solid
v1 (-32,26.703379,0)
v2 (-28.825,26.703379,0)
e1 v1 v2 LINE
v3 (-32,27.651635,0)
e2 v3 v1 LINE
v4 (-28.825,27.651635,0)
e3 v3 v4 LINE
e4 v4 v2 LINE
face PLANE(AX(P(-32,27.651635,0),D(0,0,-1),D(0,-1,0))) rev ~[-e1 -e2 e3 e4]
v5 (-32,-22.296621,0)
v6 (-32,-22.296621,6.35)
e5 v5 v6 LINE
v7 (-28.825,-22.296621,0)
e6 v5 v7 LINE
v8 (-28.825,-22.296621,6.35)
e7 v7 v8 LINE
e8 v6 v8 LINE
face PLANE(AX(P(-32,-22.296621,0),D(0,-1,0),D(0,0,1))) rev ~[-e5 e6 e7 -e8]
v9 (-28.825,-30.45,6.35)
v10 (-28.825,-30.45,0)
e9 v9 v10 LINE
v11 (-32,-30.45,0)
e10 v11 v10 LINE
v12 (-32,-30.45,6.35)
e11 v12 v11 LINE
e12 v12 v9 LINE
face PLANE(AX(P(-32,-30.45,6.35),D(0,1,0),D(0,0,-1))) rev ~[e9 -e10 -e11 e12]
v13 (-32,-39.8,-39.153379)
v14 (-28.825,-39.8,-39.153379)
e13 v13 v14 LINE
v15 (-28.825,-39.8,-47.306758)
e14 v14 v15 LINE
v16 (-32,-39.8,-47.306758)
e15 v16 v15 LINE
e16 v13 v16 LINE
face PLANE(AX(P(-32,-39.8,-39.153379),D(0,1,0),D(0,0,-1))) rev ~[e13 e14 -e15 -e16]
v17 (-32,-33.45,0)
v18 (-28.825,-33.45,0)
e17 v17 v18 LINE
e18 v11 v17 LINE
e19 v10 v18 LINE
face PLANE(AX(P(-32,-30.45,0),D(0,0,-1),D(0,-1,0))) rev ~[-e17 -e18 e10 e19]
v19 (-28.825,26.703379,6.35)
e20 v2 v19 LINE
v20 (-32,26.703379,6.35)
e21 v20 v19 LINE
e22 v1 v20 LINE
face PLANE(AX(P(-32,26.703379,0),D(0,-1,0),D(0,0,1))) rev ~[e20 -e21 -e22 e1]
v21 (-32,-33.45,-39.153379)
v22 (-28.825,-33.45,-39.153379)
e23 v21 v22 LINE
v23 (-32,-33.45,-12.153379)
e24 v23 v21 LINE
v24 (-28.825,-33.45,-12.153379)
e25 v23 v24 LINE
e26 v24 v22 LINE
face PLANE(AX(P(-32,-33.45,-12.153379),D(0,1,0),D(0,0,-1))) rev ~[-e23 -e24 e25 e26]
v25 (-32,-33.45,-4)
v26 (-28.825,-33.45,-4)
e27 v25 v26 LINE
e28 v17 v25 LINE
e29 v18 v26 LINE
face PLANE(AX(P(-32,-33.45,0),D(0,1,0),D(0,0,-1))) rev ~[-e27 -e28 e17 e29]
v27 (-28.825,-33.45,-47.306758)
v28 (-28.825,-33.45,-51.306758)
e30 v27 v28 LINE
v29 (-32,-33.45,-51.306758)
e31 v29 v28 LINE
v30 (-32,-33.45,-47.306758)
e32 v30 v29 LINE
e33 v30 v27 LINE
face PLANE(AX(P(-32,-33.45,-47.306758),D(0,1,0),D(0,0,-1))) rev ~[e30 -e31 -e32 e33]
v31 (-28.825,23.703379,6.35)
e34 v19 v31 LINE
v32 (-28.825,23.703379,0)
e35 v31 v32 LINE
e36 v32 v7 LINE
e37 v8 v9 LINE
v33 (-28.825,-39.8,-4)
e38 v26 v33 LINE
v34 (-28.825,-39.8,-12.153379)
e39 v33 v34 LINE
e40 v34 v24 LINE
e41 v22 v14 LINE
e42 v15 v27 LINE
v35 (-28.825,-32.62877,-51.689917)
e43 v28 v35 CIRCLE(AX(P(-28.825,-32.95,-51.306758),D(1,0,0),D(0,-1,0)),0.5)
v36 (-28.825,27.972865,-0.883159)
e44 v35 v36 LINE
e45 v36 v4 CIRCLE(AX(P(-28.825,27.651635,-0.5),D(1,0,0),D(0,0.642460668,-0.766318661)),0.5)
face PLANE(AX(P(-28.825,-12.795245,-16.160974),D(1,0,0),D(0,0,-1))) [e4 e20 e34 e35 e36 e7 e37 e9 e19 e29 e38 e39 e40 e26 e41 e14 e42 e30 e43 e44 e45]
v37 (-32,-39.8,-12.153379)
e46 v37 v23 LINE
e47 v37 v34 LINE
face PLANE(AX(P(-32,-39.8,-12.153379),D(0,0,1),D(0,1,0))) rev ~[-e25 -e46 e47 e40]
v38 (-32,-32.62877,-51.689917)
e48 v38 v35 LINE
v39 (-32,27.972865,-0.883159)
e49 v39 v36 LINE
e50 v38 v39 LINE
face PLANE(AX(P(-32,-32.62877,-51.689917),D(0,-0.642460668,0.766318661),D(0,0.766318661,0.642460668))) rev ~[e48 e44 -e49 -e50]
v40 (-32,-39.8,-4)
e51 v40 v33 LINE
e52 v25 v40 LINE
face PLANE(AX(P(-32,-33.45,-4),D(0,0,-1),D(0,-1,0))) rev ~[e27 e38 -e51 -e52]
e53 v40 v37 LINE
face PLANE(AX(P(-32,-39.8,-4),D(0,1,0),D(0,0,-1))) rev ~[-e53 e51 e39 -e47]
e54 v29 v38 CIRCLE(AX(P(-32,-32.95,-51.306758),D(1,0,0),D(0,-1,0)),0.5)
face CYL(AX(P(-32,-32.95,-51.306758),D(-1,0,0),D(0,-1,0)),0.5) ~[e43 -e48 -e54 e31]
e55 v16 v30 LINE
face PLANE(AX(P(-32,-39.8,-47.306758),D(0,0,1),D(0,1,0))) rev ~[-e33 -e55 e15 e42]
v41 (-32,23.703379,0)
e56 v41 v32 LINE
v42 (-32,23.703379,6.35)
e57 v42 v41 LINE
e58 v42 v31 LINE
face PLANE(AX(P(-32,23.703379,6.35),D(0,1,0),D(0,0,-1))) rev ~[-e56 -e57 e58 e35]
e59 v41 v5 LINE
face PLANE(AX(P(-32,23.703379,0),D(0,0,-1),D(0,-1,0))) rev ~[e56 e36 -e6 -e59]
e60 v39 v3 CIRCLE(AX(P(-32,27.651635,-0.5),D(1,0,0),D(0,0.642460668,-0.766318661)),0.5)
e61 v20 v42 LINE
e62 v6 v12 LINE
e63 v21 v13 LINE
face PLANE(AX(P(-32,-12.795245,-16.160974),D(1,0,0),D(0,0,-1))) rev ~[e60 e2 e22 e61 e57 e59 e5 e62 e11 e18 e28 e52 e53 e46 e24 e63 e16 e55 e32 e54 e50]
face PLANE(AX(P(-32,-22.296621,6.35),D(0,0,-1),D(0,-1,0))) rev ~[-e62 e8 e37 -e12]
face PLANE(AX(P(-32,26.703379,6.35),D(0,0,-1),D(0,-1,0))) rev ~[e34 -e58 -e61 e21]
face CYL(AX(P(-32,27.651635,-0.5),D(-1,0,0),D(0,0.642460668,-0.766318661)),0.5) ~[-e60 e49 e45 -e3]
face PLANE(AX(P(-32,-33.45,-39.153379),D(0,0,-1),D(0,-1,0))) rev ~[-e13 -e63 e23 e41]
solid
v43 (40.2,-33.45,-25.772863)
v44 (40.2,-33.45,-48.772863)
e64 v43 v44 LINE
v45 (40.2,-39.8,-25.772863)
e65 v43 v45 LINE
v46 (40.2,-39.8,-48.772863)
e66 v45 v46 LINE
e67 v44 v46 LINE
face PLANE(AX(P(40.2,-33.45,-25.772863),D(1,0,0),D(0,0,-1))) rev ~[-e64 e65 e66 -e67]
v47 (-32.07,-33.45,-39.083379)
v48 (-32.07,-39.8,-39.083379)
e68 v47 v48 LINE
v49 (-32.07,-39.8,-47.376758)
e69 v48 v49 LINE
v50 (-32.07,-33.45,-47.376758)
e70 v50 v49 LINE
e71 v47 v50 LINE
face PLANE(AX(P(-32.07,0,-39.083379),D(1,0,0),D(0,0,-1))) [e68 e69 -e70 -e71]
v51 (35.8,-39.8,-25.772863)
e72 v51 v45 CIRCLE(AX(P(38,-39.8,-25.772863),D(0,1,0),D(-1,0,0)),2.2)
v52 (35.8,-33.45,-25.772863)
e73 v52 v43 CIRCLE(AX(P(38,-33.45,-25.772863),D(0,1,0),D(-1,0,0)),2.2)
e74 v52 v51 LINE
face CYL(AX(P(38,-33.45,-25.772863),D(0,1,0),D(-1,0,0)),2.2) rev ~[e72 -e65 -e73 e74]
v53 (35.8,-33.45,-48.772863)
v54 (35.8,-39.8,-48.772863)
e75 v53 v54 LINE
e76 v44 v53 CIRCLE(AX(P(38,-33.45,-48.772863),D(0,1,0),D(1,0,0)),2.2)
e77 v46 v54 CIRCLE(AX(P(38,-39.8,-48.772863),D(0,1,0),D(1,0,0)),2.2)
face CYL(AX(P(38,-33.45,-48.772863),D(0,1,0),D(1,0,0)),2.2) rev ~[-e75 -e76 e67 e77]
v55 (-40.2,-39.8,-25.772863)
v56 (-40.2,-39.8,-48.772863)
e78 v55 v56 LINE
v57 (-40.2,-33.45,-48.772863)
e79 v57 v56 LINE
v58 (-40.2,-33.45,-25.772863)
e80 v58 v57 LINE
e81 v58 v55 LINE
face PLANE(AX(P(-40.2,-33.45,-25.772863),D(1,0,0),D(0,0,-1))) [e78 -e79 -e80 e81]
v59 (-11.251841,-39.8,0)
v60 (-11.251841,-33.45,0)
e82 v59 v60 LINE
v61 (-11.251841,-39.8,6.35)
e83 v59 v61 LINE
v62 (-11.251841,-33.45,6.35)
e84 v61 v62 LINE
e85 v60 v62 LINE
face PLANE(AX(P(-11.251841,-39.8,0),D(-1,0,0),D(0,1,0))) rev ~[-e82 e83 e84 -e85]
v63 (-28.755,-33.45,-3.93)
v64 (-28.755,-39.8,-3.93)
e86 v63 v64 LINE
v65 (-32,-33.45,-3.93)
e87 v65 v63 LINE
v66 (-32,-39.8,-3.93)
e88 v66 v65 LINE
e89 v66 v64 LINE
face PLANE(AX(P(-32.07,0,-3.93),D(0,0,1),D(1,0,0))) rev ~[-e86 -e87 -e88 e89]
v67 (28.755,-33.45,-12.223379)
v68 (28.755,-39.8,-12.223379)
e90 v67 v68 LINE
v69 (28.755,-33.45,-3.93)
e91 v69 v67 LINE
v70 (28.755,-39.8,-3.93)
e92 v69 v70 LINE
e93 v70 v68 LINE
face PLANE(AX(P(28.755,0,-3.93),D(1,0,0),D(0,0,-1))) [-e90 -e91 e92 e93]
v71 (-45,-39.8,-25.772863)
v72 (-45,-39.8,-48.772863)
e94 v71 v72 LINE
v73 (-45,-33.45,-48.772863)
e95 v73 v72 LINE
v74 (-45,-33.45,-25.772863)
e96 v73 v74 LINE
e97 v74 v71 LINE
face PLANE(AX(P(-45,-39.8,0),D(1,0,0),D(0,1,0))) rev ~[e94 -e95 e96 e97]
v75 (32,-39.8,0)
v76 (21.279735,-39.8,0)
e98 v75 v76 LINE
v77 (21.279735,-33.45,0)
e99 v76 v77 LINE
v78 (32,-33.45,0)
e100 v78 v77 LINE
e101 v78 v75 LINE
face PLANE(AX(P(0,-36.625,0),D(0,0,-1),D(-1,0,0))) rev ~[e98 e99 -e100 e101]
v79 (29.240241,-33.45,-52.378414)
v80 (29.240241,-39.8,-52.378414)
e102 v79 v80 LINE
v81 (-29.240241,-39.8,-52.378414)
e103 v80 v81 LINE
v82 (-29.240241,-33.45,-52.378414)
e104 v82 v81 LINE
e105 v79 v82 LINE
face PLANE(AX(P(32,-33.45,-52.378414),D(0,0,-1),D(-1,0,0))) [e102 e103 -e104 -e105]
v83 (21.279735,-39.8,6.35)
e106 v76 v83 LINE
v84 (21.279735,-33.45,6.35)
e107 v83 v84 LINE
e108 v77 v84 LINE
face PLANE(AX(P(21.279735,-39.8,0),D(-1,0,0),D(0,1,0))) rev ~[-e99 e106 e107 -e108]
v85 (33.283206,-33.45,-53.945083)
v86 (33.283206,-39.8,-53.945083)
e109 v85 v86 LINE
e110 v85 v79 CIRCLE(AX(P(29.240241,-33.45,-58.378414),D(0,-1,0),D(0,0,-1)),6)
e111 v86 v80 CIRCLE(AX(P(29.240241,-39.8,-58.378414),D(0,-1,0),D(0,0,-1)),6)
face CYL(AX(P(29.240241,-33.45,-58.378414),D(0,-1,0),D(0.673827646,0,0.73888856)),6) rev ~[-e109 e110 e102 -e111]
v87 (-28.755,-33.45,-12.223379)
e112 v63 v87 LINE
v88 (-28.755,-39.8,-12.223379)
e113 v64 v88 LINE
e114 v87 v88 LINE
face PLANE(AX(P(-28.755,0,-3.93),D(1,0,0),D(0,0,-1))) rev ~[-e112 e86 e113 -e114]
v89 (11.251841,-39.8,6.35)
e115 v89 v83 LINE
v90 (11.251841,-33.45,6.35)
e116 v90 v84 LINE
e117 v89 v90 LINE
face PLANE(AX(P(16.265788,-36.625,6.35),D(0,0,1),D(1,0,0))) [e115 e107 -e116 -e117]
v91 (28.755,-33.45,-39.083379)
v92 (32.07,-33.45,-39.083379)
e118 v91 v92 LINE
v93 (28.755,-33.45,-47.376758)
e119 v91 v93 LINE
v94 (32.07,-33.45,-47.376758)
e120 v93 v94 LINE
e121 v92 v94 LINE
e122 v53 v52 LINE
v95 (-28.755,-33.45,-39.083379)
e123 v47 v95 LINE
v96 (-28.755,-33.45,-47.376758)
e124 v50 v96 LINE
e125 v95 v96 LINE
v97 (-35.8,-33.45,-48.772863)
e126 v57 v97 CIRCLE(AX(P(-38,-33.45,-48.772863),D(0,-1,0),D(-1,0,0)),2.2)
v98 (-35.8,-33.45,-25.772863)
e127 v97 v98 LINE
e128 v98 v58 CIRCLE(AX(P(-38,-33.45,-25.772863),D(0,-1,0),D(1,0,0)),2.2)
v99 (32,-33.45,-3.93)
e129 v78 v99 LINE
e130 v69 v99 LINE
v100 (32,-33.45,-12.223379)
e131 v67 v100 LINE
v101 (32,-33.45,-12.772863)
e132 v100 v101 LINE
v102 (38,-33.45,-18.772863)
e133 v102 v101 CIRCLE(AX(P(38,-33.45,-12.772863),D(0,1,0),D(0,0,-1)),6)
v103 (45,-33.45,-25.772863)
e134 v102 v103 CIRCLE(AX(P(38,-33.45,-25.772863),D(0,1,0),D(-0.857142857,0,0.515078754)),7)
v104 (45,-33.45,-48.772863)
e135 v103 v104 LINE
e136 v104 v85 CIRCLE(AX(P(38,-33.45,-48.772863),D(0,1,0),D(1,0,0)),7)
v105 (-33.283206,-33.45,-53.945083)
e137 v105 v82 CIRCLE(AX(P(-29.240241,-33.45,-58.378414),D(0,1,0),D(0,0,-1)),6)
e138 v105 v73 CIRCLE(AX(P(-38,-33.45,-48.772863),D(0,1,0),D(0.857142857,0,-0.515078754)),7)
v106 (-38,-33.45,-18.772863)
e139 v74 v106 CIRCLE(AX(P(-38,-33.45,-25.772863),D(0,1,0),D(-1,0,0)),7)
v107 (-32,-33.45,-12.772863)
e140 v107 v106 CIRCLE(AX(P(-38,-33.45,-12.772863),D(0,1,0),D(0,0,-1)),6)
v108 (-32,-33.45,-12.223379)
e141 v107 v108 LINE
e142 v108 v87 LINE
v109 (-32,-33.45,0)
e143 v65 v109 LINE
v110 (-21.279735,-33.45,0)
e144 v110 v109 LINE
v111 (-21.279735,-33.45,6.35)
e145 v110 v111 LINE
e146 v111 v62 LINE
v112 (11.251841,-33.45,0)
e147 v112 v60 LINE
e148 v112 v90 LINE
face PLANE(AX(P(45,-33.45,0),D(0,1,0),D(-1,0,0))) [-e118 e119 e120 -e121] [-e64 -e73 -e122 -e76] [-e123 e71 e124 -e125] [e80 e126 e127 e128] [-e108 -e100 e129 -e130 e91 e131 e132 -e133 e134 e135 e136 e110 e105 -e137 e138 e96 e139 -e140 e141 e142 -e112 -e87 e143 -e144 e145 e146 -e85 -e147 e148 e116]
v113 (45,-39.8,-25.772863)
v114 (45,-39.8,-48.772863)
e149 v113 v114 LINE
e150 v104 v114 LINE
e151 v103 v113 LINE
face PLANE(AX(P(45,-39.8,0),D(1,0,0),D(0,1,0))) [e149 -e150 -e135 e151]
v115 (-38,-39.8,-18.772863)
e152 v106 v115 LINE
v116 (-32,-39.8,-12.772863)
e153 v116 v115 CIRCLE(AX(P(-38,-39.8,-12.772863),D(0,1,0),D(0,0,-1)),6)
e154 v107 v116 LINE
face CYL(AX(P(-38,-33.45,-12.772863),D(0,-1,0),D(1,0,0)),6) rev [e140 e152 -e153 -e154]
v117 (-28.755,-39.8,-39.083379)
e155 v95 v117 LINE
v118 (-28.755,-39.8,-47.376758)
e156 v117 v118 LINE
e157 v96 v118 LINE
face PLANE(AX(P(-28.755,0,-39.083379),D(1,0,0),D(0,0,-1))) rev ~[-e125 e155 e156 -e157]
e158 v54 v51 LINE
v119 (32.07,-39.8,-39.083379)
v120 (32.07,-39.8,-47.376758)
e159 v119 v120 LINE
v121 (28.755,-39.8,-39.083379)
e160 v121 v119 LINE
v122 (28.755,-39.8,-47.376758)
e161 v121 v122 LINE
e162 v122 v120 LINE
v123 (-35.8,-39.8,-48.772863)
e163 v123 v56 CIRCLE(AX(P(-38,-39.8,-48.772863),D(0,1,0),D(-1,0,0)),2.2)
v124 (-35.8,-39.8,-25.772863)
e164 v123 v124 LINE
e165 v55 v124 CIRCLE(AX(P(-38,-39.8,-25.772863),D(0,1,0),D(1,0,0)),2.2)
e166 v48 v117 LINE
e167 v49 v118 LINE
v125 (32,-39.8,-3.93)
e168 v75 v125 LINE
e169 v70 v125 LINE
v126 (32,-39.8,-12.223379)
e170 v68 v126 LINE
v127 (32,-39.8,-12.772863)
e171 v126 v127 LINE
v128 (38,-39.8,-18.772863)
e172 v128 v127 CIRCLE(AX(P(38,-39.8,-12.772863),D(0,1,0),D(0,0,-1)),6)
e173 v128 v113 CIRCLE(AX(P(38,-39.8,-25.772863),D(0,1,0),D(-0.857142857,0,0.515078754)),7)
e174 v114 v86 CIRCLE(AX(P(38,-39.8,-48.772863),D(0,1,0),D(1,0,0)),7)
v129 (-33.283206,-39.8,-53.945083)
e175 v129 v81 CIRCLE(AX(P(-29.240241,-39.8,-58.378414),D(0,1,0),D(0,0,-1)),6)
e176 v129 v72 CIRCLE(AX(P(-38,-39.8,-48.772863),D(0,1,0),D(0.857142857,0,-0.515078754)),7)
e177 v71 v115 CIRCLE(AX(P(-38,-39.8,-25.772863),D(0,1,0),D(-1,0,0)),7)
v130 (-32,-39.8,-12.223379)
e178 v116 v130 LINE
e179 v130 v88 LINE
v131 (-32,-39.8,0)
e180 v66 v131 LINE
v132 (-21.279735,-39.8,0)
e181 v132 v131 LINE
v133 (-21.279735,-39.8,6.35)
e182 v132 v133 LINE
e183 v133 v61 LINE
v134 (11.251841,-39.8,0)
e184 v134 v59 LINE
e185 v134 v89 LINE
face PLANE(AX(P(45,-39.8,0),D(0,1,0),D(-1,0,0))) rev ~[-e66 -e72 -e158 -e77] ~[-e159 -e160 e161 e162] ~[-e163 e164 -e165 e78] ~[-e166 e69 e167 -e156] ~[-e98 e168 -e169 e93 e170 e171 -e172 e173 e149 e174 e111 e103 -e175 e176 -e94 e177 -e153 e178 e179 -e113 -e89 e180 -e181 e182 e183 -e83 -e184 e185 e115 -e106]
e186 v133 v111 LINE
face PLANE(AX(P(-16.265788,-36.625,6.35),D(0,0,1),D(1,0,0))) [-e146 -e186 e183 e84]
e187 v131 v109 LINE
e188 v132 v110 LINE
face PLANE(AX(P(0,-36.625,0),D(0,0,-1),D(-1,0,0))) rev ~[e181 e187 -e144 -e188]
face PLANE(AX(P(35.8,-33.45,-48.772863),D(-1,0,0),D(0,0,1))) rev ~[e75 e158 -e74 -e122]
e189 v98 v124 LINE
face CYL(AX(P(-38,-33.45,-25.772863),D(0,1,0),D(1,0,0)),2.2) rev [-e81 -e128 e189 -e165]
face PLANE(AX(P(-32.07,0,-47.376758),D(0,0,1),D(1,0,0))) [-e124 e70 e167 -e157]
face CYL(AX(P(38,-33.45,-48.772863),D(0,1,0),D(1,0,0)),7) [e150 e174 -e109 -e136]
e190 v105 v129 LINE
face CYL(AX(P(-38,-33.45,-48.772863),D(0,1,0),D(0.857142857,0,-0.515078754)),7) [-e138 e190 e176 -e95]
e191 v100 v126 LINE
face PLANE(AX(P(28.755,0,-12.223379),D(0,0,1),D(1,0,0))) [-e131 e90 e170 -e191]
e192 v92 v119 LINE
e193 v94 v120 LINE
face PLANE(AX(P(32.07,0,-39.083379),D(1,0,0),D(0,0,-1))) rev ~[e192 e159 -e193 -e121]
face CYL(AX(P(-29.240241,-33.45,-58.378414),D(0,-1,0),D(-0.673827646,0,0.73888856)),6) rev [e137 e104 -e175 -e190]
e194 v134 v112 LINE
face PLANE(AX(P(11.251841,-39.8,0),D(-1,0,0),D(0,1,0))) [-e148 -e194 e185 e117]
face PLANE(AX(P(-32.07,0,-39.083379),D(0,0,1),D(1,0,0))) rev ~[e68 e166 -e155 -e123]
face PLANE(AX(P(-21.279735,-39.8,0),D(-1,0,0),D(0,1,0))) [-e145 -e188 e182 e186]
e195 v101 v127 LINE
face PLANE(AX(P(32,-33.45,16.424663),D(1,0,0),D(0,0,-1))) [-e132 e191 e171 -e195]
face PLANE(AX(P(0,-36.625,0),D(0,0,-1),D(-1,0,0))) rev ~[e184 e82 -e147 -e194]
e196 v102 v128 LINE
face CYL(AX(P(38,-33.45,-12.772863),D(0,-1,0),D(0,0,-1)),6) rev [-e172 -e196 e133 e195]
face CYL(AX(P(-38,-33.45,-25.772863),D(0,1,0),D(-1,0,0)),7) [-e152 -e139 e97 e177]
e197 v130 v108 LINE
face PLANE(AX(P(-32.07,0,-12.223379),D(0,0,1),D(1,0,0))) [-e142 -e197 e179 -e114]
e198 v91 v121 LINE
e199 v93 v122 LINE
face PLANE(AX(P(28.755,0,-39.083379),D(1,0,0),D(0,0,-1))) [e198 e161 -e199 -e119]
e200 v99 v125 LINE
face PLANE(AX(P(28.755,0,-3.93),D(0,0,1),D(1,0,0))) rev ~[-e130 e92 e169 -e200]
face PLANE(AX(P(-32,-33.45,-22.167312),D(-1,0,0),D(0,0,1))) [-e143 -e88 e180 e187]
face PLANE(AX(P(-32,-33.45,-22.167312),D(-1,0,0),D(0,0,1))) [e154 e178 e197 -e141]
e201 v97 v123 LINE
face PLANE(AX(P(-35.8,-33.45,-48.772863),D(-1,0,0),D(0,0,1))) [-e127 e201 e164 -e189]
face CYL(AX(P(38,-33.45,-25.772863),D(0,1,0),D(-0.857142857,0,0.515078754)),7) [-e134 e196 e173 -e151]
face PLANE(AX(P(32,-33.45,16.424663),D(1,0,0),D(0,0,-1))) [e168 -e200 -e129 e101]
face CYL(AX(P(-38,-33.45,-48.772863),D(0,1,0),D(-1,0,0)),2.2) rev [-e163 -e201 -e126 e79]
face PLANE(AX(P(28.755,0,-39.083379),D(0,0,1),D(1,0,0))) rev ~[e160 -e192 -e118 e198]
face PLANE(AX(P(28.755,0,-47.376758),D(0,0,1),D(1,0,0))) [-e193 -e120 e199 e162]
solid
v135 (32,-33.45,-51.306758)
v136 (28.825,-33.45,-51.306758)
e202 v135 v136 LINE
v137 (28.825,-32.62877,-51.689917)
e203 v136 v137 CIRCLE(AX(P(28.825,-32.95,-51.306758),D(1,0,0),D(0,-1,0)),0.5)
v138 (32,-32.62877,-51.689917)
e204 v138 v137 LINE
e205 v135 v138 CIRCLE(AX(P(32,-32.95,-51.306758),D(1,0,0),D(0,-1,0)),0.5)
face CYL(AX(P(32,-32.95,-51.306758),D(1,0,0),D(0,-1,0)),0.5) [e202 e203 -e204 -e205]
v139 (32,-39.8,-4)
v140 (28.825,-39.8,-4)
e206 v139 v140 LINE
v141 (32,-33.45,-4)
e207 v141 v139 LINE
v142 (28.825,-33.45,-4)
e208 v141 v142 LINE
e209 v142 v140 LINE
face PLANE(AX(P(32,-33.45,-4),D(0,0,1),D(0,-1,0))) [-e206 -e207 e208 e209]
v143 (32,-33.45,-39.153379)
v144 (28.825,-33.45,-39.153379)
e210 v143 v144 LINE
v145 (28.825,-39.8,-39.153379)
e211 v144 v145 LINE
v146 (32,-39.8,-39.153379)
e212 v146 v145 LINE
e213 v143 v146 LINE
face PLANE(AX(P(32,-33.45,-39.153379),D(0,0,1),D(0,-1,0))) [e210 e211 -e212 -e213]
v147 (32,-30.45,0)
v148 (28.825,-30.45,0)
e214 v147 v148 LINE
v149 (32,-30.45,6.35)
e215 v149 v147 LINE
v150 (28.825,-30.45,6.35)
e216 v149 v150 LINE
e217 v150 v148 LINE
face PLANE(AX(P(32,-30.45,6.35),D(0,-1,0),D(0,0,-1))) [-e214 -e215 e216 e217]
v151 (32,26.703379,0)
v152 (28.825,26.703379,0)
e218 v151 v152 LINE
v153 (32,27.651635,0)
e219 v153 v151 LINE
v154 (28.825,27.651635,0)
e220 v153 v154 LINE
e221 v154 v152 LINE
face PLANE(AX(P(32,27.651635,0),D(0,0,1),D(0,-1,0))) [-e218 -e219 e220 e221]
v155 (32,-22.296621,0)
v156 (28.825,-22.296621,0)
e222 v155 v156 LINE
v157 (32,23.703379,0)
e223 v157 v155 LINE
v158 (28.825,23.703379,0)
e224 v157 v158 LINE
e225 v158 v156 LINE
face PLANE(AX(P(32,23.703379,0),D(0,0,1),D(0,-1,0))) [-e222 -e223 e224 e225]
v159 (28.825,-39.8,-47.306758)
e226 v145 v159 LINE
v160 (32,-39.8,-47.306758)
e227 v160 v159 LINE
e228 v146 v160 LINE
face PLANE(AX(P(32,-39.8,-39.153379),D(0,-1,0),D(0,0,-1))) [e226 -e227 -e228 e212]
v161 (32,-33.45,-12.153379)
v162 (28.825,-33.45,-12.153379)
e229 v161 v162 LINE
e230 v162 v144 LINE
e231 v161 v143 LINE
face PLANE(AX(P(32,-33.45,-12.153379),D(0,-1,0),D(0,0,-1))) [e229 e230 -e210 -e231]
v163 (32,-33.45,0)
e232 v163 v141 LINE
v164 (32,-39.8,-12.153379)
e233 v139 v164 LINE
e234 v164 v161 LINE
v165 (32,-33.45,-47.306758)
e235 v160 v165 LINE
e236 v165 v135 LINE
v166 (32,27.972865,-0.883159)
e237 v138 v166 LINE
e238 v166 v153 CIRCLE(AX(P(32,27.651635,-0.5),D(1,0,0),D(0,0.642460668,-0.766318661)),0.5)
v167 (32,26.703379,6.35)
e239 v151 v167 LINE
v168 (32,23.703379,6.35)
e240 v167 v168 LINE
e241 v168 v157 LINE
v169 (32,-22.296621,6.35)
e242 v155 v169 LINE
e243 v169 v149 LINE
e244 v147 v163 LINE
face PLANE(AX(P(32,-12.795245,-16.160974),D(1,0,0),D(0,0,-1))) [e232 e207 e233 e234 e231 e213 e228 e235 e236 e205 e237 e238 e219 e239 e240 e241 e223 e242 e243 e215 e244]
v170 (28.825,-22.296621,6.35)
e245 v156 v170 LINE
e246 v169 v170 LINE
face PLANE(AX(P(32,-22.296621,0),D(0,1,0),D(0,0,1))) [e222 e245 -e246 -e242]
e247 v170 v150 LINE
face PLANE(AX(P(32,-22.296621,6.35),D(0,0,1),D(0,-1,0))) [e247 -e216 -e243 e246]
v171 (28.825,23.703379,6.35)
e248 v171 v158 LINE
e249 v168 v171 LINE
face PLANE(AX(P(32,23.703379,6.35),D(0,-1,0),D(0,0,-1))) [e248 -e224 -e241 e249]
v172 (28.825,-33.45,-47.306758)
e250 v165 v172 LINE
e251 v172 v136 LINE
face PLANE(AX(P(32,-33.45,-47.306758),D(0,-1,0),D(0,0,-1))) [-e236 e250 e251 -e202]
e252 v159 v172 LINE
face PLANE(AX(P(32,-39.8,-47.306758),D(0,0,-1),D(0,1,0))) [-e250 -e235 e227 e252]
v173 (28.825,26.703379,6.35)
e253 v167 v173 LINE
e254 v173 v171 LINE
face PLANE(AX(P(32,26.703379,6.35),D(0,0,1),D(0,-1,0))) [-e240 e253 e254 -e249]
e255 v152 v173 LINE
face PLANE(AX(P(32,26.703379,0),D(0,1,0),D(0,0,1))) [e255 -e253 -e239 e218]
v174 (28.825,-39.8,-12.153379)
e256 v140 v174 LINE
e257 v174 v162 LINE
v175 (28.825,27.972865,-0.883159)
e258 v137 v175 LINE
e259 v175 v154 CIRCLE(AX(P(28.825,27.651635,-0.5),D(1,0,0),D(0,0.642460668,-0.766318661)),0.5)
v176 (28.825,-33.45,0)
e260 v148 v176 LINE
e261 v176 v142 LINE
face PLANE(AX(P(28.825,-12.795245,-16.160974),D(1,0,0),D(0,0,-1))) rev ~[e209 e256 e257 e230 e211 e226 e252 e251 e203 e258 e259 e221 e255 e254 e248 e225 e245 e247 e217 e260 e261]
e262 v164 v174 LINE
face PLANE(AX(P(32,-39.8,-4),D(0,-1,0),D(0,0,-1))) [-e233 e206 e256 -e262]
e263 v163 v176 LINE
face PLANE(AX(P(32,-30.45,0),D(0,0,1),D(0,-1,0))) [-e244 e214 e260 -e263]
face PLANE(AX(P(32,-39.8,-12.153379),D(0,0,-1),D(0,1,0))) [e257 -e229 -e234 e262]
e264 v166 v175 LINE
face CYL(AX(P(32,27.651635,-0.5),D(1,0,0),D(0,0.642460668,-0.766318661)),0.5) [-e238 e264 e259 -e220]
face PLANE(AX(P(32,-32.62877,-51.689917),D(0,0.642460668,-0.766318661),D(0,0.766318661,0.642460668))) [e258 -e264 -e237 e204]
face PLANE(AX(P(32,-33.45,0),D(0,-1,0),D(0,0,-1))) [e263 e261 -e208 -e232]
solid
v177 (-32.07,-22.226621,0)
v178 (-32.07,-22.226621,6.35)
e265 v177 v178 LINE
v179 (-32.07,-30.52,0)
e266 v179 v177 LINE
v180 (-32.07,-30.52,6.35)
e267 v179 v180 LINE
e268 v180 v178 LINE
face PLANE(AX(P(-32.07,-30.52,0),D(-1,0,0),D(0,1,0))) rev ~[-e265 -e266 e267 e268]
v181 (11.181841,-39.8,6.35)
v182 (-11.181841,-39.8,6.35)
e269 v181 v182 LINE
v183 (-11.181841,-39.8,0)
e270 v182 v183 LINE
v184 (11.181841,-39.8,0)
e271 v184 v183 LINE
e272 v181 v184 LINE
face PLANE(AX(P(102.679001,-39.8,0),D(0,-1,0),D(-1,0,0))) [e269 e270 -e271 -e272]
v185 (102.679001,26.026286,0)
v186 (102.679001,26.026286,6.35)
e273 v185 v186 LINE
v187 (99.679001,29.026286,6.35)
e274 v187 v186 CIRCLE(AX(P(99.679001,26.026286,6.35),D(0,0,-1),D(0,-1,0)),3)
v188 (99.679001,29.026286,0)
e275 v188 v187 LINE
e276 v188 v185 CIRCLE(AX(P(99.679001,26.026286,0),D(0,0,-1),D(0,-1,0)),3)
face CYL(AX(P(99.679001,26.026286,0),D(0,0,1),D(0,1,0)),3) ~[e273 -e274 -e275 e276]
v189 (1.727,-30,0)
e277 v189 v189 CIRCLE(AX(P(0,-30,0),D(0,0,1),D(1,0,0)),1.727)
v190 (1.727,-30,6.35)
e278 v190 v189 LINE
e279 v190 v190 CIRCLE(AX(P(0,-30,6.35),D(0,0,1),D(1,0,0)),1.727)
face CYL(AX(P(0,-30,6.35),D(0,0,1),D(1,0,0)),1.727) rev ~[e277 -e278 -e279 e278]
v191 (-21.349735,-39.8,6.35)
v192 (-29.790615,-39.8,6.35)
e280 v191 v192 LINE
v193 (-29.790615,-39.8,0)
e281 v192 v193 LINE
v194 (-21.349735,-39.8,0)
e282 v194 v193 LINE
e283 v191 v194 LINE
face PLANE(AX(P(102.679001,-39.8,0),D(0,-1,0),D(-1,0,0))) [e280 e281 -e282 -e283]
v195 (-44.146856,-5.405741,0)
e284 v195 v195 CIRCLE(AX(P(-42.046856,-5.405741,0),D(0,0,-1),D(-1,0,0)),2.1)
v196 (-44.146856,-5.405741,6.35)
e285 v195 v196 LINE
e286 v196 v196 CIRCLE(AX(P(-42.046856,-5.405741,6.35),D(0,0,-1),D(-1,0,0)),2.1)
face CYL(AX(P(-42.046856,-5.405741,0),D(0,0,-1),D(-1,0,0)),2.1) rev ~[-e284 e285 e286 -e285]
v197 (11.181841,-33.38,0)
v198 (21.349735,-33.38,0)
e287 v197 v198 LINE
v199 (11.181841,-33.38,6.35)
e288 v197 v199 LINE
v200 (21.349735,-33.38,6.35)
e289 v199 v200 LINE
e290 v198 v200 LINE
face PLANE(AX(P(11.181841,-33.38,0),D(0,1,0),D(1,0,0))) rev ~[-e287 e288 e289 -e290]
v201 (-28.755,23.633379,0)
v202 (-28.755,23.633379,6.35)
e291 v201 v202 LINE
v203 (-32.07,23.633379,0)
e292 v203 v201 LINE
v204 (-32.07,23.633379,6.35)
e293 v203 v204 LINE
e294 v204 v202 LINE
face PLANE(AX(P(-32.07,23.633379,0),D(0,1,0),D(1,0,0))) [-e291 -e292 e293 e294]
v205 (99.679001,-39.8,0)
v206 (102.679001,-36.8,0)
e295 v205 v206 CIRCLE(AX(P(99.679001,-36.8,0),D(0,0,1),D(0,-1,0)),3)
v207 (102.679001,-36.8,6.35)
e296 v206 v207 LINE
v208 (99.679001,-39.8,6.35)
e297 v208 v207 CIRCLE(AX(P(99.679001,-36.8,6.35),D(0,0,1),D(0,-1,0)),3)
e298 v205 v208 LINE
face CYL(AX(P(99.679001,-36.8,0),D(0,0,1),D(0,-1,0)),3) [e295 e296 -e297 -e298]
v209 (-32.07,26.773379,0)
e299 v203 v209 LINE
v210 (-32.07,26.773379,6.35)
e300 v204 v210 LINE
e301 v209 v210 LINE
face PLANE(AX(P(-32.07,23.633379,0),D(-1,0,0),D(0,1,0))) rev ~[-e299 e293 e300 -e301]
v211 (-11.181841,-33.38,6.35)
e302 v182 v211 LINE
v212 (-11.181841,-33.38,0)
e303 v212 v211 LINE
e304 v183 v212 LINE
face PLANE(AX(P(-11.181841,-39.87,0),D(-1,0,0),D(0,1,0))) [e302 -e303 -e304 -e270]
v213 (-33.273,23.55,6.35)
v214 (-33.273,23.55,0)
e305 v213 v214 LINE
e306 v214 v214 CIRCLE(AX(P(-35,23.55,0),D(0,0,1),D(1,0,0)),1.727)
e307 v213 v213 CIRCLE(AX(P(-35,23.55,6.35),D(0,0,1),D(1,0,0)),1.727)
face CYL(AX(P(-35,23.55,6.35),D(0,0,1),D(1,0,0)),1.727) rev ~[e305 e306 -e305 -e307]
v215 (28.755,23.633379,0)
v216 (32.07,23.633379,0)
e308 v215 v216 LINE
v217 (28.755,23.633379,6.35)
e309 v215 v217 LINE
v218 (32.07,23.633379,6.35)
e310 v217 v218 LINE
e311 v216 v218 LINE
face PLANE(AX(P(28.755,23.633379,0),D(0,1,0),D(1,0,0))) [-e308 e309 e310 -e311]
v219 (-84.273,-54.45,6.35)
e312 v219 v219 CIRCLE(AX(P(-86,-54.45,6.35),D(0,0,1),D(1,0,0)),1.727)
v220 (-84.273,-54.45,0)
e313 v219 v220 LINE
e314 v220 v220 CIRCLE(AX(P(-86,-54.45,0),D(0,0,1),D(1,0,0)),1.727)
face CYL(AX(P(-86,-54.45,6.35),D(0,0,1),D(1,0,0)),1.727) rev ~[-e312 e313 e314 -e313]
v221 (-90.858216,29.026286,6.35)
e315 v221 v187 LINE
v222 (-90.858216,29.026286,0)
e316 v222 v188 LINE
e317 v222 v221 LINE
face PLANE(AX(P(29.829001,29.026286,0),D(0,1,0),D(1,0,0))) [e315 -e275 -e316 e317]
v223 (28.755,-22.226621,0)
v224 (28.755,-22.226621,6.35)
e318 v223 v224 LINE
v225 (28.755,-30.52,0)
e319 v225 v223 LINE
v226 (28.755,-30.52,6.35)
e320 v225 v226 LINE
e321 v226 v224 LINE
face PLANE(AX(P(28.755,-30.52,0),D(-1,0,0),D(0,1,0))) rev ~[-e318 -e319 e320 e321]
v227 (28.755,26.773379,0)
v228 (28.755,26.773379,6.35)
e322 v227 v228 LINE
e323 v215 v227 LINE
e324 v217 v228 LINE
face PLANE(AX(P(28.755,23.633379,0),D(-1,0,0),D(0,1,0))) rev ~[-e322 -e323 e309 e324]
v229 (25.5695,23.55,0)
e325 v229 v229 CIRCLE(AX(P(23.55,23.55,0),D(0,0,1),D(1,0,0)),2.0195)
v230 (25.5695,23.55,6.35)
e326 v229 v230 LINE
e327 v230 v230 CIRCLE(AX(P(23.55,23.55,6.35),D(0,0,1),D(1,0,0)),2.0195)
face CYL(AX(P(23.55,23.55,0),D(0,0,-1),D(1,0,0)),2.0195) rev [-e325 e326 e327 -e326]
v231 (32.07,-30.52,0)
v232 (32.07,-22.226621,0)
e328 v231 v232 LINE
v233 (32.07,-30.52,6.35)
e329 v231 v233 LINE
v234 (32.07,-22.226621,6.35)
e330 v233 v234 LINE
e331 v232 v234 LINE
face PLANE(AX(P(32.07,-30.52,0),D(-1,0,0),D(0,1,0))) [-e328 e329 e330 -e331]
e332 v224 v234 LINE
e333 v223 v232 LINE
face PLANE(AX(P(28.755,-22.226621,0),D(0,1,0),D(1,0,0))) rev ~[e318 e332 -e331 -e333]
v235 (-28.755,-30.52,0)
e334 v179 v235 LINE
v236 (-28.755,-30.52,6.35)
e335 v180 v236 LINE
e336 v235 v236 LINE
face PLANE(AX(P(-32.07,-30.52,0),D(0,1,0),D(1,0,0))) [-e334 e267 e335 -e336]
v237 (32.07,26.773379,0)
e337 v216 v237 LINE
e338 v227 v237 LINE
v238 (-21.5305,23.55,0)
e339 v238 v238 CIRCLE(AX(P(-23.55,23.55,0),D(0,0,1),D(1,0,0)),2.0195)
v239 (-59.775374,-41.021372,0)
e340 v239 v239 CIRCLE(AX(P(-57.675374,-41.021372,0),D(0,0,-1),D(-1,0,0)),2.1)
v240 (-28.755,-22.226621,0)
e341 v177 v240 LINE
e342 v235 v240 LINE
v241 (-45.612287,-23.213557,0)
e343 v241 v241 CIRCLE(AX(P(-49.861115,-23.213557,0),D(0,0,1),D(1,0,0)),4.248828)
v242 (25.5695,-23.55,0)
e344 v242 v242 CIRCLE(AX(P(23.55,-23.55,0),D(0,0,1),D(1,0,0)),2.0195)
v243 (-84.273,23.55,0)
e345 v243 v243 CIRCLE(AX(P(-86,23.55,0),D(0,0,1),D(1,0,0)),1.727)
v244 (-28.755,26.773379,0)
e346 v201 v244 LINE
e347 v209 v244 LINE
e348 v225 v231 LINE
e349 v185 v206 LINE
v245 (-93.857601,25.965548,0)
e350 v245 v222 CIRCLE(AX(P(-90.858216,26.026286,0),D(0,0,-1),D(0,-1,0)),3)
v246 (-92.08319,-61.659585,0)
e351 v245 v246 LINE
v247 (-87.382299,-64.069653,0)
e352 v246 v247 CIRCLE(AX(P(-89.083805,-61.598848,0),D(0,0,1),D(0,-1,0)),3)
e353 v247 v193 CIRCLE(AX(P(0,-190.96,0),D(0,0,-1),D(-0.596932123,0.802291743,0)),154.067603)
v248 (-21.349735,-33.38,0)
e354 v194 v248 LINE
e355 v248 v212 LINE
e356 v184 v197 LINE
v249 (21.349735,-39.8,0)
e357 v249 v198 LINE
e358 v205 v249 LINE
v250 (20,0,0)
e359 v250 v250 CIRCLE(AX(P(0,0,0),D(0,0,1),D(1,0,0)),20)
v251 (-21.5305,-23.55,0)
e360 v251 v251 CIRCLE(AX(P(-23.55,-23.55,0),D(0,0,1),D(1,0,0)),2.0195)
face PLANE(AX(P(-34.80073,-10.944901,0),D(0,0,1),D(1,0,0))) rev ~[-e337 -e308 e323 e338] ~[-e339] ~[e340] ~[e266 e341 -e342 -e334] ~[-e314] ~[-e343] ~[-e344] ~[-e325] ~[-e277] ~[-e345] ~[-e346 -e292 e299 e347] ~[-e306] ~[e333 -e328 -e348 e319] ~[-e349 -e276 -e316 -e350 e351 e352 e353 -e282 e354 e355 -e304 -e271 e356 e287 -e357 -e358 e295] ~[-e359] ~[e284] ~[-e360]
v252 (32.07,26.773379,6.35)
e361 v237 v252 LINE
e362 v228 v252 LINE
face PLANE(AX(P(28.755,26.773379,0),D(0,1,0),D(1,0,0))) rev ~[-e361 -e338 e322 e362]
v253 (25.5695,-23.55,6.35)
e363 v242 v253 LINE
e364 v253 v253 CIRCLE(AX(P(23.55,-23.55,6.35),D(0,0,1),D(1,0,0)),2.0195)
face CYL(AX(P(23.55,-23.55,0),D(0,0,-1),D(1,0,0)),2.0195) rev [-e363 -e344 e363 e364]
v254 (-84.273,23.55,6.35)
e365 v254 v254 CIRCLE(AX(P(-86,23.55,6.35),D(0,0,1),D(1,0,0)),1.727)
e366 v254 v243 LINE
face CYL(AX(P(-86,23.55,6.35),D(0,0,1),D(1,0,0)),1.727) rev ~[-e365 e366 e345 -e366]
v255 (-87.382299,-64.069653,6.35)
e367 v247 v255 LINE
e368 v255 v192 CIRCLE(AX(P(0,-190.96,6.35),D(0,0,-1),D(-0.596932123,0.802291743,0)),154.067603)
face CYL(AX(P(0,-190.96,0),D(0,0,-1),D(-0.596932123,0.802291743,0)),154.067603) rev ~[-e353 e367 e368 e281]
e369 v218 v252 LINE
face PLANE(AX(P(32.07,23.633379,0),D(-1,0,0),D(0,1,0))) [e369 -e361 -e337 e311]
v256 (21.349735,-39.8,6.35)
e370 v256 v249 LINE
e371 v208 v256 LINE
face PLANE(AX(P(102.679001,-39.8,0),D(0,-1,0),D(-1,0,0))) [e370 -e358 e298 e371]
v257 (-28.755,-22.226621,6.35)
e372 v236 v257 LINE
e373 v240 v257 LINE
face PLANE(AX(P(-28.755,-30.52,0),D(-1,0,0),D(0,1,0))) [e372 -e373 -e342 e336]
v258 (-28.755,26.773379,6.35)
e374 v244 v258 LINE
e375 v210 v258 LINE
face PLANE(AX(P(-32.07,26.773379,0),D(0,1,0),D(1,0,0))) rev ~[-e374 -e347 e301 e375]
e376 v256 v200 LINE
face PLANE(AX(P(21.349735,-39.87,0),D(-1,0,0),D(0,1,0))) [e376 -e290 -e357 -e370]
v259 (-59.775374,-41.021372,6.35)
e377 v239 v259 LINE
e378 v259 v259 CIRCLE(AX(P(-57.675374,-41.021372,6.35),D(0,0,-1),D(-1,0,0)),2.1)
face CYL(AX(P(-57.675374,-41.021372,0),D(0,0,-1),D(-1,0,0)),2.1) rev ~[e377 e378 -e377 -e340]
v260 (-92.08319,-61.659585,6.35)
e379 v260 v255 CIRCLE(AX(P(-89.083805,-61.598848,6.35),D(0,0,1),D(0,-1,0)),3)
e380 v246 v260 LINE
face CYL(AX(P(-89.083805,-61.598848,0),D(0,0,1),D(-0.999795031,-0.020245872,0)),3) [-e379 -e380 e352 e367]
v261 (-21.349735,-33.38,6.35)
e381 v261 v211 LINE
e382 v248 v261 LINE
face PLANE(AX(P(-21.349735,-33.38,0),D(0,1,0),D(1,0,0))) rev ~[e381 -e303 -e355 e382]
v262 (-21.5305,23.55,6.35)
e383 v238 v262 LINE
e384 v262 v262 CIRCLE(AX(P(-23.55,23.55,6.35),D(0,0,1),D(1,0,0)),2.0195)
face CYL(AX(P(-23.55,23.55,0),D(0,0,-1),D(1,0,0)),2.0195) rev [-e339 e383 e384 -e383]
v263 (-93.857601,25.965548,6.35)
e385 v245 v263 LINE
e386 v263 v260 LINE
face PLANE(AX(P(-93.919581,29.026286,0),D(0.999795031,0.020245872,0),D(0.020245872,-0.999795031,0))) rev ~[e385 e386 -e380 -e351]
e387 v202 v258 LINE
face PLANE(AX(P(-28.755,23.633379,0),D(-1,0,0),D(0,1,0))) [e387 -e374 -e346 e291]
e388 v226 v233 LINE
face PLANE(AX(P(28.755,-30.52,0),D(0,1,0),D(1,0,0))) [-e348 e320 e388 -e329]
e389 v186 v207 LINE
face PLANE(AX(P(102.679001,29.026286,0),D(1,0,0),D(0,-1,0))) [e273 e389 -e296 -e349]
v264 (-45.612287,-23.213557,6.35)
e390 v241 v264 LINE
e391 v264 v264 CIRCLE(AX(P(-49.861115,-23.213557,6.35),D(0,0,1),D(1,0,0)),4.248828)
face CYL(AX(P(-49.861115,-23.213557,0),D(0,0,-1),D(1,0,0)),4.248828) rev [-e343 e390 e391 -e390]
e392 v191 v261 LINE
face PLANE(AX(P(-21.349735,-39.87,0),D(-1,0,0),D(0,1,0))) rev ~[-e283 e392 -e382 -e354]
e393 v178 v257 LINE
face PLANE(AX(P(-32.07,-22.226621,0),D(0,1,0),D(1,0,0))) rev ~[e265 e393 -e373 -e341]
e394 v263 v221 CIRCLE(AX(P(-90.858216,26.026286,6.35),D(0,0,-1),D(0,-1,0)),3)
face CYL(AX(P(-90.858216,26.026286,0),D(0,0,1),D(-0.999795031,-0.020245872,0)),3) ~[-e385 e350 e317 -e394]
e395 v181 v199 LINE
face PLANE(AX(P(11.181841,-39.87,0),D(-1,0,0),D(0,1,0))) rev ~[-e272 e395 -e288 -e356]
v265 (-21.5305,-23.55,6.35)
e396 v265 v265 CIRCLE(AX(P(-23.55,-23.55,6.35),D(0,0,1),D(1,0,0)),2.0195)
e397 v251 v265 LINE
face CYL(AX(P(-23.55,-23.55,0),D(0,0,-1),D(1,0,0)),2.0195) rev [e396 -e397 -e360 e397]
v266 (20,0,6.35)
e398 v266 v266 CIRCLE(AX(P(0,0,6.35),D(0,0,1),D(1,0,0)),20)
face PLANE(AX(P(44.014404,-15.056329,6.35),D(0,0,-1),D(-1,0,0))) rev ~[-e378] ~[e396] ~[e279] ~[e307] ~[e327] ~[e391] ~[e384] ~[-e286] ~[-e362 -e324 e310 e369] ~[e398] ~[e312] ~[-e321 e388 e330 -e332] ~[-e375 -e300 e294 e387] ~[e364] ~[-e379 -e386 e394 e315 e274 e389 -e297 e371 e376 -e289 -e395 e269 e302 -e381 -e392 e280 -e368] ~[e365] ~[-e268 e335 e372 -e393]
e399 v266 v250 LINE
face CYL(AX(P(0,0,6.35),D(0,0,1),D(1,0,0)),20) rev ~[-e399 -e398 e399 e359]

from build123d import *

# Parameters (mm, degrees)
SKETCH1_R              = 4.248828393
SKETCH1_R_2            = 6
SKETCH1_R_3            = 2.0195
EXTRUDE_10_32_DEPTH    = 6.35
SKETCH2_R              = 20
CUT_EXTRUDE1_DEPTH     = 6.35
SKETCH4_R              = 2.1
CUT_EXTRUDE_M5_DEPTH   = 6.35
FILLET2_R              = 3
SKETCH5_R              = 1.727
CUT_EXTRUDE_8_32_DEPTH = 10
BOSS_EXTRUDE1_DEPTH    = 6.35
SKETCH7_W              = 90
SKETCH7_H              = 6.35
BOSS_EXTRUDE2_DEPTH    = 56.175
CUT_EXTRUDE2_DEPTH     = 10
BOSS_EXTRUDE3_START    = 32
BOSS_EXTRUDE3_DEPTH    = 3.175
BOSS_EXTRUDE4_START    = -32
BOSS_EXTRUDE4_DEPTH    = 3.175
SKETCH12_W             = 10.027893718
SKETCH12_H             = 6.35
BOSS_EXTRUDE5_DEPTH    = 6.35
SKETCH13_W             = 3.315
SKETCH13_H             = 3.14
SKETCH13_H_2           = 8.293378994
SKETCH13_W_2           = 10.167893718
SKETCH13_H_3           = 6.49
CUT_EXTRUDE5_DEPTH     = 23.175
SKETCH15_W             = 3.315
SKETCH15_H             = 8.293378994
CUT_EXTRUDE6_DEPTH     = 95.175
FILLET3_R              = 3
FILLET4_R              = 6


with BuildPart() as part:
    # Sketch1 → 10-32 (new body)
    with BuildSketch(Plane.XY):
        with BuildLine():
            Line((-93.919580751, 29.026286008), (-91.967901368, -67.352834202))
            ThreePointArc((-91.967901368, -67.352834202), (-32.48927974, -40.356968754), (32.829000641, -40.430657228))
            Line((32.829000641, -40.430657228), (32.829000641, 26.026286008))
            ThreePointArc((32.829000641, 26.026286008), (31.950320985, 28.147606351), (29.829000641, 29.026286008))
            Line((29.829000641, 29.026286008), (-93.919580751, 29.026286008))
        make_face()
        with Locations((-49.861114932, -23.213556766)):
            Circle(SKETCH1_R, mode=Mode.SUBTRACT)
        Circle(SKETCH1_R_2, mode=Mode.SUBTRACT)
        with Locations((-23.55, 23.55)):
            Circle(SKETCH1_R_3, mode=Mode.SUBTRACT)
        with Locations((-23.55, -23.55)):
            Circle(SKETCH1_R_3, mode=Mode.SUBTRACT)
        with Locations((23.55, -23.55)):
            Circle(SKETCH1_R_3, mode=Mode.SUBTRACT)
        with Locations((23.55, 23.55)):
            Circle(SKETCH1_R_3, mode=Mode.SUBTRACT)
    extrude(amount=EXTRUDE_10_32_DEPTH)

    # Sketch2 → Cut-Extrude1 (cut)
    with BuildSketch(Plane.XY.offset(6.35)):
        Circle(SKETCH2_R)
    extrude(amount=-CUT_EXTRUDE1_DEPTH, mode=Mode.SUBTRACT)

    # Sketch4 → M5 (cut)
    with BuildSketch(Plane(origin=(0, 0, 0), x_dir=(-1, 0, 0), z_dir=(0, 0, -1))):
        with Locations((42.046855659, -5.405741086)):
            Circle(SKETCH4_R)
        with Locations((57.675374206, -41.021372445)):
            Circle(SKETCH4_R)
    extrude(amount=-CUT_EXTRUDE_M5_DEPTH, mode=Mode.SUBTRACT)

    # Fillet2
    fillet2_edges = [part.edges().sort_by_distance(p)[0] for p in [
        (-91.967901368, -67.352834202, 3.175),
        (-93.919580751, 29.026286008, 3.175),
        (32.829000641, -40.430657228, 3.175),
    ]]
    fillet(fillet2_edges, radius=FILLET2_R)

    # Sketch5 → 8-32 (cut)
    with BuildSketch(Plane.XY.offset(6.35)):
        with Locations((-86, 23.55)):
            Circle(SKETCH5_R)
        with Locations((-86, -54.45)):
            Circle(SKETCH5_R)
        with Locations((-35, 23.55)):
            Circle(SKETCH5_R)
        with Locations((0, -30)):
            Circle(SKETCH5_R)
    extrude(amount=-CUT_EXTRUDE_8_32_DEPTH, mode=Mode.SUBTRACT)

    # Sketch6 → Boss-Extrude1 (add)
    with BuildSketch(Plane(origin=(0, 0, 0), x_dir=(-1, 0, 0), z_dir=(0, 0, -1))):
        Polygon((33.987676393, -39.8), (33.987676393, -33.165841677), (-30.11229914, -33.165841677), (-29.829000641, 29.026286008), (-102.679000641, 29.026286008), (-102.679000641, -39.8), (-45, -39.8), align=None)
    extrude(amount=-BOSS_EXTRUDE1_DEPTH)

    # Sketch13 → Cut-Extrude5 (cut)
    with BuildSketch(Plane.XY):
        with Locations((-30.4125, 25.203378994)):
            Rectangle(SKETCH13_W, SKETCH13_H)
        with Locations((-30.4125, -26.373310503)):
            Rectangle(SKETCH13_W, SKETCH13_H_2)
        with Locations((30.4125, 25.203378994)):
            Rectangle(SKETCH13_W, SKETCH13_H)
        with Locations((30.4125, -26.373310503)):
            Rectangle(SKETCH13_W, SKETCH13_H_2)
        with Locations((-16.265787954, -36.625)):
            Rectangle(SKETCH13_W_2, SKETCH13_H_3)
        with Locations((16.265787954, -36.625)):
            Rectangle(SKETCH13_W_2, SKETCH13_H_3)
    extrude(amount=CUT_EXTRUDE5_DEPTH, mode=Mode.SUBTRACT)

    # Fillet3
    fillet3_edges = [part.edges().sort_by_distance(p)[0] for p in [
        (102.679000641, 29.026286008, 3.175),
        (102.679000641, -39.8, 3.175),
    ]]
    fillet(fillet3_edges, radius=FILLET3_R)


with BuildPart() as body_2:
    # Sketch7 → Boss-Extrude2 (new body)
    with BuildSketch(Plane(origin=(0, 0, 0), x_dir=(-1, 0, 0), z_dir=(0, 0, -1))):
        with Locations((0, -36.625)):
            Rectangle(SKETCH7_W, SKETCH7_H)
    extrude(amount=BOSS_EXTRUDE2_DEPTH)

    # Sketch8 → Cut-Extrude2 (cut)
    with BuildSketch(Plane(origin=(0, -33.45, 0), x_dir=(1, 0, 0), z_dir=(0, 1, 0))):
        with BuildLine():
            Line((-35.8, 48.77286316), (-35.8, 25.77286316))
            ThreePointArc((-35.8, 25.77286316), (-38, 23.57286316), (-40.2, 25.77286316))
            Line((-40.2, 25.77286316), (-40.2, 48.77286316))
            ThreePointArc((-40.2, 48.77286316), (-38, 50.97286316), (-35.8, 48.77286316))
        make_face()
        with BuildLine():
            Line((-45, 48.77286316), (-45, 25.77286316))
            ThreePointArc((-45, 25.77286316), (-39.870828693, 19.027494379), (-32, 22.167311885))
            Line((-32, 22.167311885), (-32, -16.424662842))
            Line((-32, -16.424662842), (-58.49448477, -16.424662842))
            Line((-58.49448477, -16.424662842), (-58.49448477, 89.110284315))
            Line((-58.49448477, 89.110284315), (0, 81.622667319))
            Line((0, 81.622667319), (58.49448477, 89.110284315))
            Line((58.49448477, 89.110284315), (58.49448477, -16.424662842))
            Line((58.49448477, -16.424662842), (32, -16.424662842))
            Line((32, -16.424662842), (32, 22.167311885))
            ThreePointArc((32, 22.167311885), (39.870828693, 19.027494379), (45, 25.77286316))
            Line((45, 25.77286316), (45, 48.77286316))
            ThreePointArc((45, 48.77286316), (39.870828693, 55.518231942), (32, 52.378414436))
            Line((32, 52.378414436), (-32, 52.378414436))
            ThreePointArc((-32, 52.378414436), (-39.870828693, 55.518231942), (-45, 48.77286316))
        make_face()
        with BuildLine():
            Line((35.8, 48.77286316), (35.8, 25.77286316))
            ThreePointArc((35.8, 25.77286316), (38, 23.57286316), (40.2, 25.77286316))
            Line((40.2, 25.77286316), (40.2, 48.77286316))
            ThreePointArc((40.2, 48.77286316), (38, 50.97286316), (35.8, 48.77286316))
        make_face()
    extrude(amount=-CUT_EXTRUDE2_DEPTH, mode=Mode.SUBTRACT)

    # Sketch12 → Boss-Extrude5 (add)
    with BuildSketch(Plane.XY):
        with Locations((-16.265787954, -36.625)):
            Rectangle(SKETCH12_W, SKETCH12_H)
        with Locations((16.265787954, -36.625)):
            Rectangle(SKETCH12_W, SKETCH12_H)
    extrude(amount=BOSS_EXTRUDE5_DEPTH)

    # Sketch15 → Cut-Extrude6 (cut)
    with BuildSketch(Plane(origin=(0, 0, 0), x_dir=(1, 0, 0), z_dir=(0, 1, 0))):
        with Locations((30.4125, 8.076689497)):
            Rectangle(SKETCH15_W, SKETCH15_H)
        with Locations((30.4125, 43.230068491)):
            Rectangle(SKETCH15_W, SKETCH15_H)
        with Locations((-30.4125, 43.230068491)):
            Rectangle(SKETCH15_W, SKETCH15_H)
        with Locations((-30.4125, 8.076689497)):
            Rectangle(SKETCH15_W, SKETCH15_H)
    extrude(amount=-CUT_EXTRUDE6_DEPTH, mode=Mode.SUBTRACT)

    # Fillet4
    fillet4_edges = [body_2.edges().sort_by_distance(p)[0] for p in [
        (32, -36.625, -52.378414436),
        (-32, -36.625, -52.378414436),
        (32, -36.625, -22.167311885),
        (-32, -36.625, -22.167311885),
    ]]
    fillet(fillet4_edges, radius=FILLET4_R)


with BuildPart() as body_3:
    # Sketch10 → Boss-Extrude3 (new body)
    with BuildSketch(Plane(origin=(0, 0, 0), x_dir=(0, 0, -1), z_dir=(1, 0, 0)).offset(BOSS_EXTRUDE3_START)):
        with BuildLine():
            Line((0, -33.45), (4, -33.45))
            Line((4, -33.45), (4, -39.8))
            Line((4, -39.8), (12.153378994, -39.8))
            Line((12.153378994, -39.8), (12.153378994, -33.45))
            Line((12.153378994, -33.45), (39.153378994, -33.45))
            Line((39.153378994, -33.45), (39.153378994, -39.8))
            Line((39.153378994, -39.8), (47.306757988, -39.8))
            Line((47.306757988, -39.8), (47.306757988, -33.45))
            Line((47.306757988, -33.45), (51.306757988, -33.45))
            ThreePointArc((51.306757988, -33.45), (51.759866787, -33.16140581), (51.689917319, -32.628769666))
            Line((51.689917319, -32.628769666), (0.883159331, 27.972865137))
            ThreePointArc((0.883159331, 27.972865137), (0.329090178, 28.121517589), (0, 27.651634803))
            Line((0, 27.651634803), (0, 26.703378994))
            Line((0, 26.703378994), (-6.35, 26.703378994))
            Line((-6.35, 26.703378994), (-6.35, 23.703378994))
            Line((-6.35, 23.703378994), (0, 23.703378994))
            Line((0, 23.703378994), (0, -22.296621006))
            Line((0, -22.296621006), (-6.35, -22.296621006))
            Line((-6.35, -22.296621006), (-6.35, -30.45))
            Line((-6.35, -30.45), (0, -30.45))
            Line((0, -30.45), (0, -33.45))
        make_face()
    extrude(amount=-BOSS_EXTRUDE3_DEPTH)


with BuildPart() as body_4:
    # Sketch10<2> → Boss-Extrude4 (new body)
    with BuildSketch(Plane(origin=(0, 0, 0), x_dir=(0, 0, -1), z_dir=(1, 0, 0)).offset(BOSS_EXTRUDE4_START)):
        with BuildLine():
            Line((0, -33.45), (4, -33.45))
            Line((4, -33.45), (4, -39.8))
            Line((4, -39.8), (12.153378994, -39.8))
            Line((12.153378994, -39.8), (12.153378994, -33.45))
            Line((12.153378994, -33.45), (39.153378994, -33.45))
            Line((39.153378994, -33.45), (39.153378994, -39.8))
            Line((39.153378994, -39.8), (47.306757988, -39.8))
            Line((47.306757988, -39.8), (47.306757988, -33.45))
            Line((47.306757988, -33.45), (51.306757988, -33.45))
            ThreePointArc((51.306757988, -33.45), (51.759866787, -33.16140581), (51.689917319, -32.628769666))
            Line((51.689917319, -32.628769666), (0.883159331, 27.972865137))
            ThreePointArc((0.883159331, 27.972865137), (0.329090178, 28.121517589), (0, 27.651634803))
            Line((0, 27.651634803), (0, 26.703378994))
            Line((0, 26.703378994), (-6.35, 26.703378994))
            Line((-6.35, 26.703378994), (-6.35, 23.703378994))
            Line((-6.35, 23.703378994), (0, 23.703378994))
            Line((0, 23.703378994), (0, -22.296621006))
            Line((0, -22.296621006), (-6.35, -22.296621006))
            Line((-6.35, -22.296621006), (-6.35, -30.45))
            Line((-6.35, -30.45), (0, -30.45))
            Line((0, -30.45), (0, -33.45))
        make_face()
    extrude(amount=BOSS_EXTRUDE4_DEPTH)


solid = Compound([part.part, body_2.part, body_3.part, body_4.part])
